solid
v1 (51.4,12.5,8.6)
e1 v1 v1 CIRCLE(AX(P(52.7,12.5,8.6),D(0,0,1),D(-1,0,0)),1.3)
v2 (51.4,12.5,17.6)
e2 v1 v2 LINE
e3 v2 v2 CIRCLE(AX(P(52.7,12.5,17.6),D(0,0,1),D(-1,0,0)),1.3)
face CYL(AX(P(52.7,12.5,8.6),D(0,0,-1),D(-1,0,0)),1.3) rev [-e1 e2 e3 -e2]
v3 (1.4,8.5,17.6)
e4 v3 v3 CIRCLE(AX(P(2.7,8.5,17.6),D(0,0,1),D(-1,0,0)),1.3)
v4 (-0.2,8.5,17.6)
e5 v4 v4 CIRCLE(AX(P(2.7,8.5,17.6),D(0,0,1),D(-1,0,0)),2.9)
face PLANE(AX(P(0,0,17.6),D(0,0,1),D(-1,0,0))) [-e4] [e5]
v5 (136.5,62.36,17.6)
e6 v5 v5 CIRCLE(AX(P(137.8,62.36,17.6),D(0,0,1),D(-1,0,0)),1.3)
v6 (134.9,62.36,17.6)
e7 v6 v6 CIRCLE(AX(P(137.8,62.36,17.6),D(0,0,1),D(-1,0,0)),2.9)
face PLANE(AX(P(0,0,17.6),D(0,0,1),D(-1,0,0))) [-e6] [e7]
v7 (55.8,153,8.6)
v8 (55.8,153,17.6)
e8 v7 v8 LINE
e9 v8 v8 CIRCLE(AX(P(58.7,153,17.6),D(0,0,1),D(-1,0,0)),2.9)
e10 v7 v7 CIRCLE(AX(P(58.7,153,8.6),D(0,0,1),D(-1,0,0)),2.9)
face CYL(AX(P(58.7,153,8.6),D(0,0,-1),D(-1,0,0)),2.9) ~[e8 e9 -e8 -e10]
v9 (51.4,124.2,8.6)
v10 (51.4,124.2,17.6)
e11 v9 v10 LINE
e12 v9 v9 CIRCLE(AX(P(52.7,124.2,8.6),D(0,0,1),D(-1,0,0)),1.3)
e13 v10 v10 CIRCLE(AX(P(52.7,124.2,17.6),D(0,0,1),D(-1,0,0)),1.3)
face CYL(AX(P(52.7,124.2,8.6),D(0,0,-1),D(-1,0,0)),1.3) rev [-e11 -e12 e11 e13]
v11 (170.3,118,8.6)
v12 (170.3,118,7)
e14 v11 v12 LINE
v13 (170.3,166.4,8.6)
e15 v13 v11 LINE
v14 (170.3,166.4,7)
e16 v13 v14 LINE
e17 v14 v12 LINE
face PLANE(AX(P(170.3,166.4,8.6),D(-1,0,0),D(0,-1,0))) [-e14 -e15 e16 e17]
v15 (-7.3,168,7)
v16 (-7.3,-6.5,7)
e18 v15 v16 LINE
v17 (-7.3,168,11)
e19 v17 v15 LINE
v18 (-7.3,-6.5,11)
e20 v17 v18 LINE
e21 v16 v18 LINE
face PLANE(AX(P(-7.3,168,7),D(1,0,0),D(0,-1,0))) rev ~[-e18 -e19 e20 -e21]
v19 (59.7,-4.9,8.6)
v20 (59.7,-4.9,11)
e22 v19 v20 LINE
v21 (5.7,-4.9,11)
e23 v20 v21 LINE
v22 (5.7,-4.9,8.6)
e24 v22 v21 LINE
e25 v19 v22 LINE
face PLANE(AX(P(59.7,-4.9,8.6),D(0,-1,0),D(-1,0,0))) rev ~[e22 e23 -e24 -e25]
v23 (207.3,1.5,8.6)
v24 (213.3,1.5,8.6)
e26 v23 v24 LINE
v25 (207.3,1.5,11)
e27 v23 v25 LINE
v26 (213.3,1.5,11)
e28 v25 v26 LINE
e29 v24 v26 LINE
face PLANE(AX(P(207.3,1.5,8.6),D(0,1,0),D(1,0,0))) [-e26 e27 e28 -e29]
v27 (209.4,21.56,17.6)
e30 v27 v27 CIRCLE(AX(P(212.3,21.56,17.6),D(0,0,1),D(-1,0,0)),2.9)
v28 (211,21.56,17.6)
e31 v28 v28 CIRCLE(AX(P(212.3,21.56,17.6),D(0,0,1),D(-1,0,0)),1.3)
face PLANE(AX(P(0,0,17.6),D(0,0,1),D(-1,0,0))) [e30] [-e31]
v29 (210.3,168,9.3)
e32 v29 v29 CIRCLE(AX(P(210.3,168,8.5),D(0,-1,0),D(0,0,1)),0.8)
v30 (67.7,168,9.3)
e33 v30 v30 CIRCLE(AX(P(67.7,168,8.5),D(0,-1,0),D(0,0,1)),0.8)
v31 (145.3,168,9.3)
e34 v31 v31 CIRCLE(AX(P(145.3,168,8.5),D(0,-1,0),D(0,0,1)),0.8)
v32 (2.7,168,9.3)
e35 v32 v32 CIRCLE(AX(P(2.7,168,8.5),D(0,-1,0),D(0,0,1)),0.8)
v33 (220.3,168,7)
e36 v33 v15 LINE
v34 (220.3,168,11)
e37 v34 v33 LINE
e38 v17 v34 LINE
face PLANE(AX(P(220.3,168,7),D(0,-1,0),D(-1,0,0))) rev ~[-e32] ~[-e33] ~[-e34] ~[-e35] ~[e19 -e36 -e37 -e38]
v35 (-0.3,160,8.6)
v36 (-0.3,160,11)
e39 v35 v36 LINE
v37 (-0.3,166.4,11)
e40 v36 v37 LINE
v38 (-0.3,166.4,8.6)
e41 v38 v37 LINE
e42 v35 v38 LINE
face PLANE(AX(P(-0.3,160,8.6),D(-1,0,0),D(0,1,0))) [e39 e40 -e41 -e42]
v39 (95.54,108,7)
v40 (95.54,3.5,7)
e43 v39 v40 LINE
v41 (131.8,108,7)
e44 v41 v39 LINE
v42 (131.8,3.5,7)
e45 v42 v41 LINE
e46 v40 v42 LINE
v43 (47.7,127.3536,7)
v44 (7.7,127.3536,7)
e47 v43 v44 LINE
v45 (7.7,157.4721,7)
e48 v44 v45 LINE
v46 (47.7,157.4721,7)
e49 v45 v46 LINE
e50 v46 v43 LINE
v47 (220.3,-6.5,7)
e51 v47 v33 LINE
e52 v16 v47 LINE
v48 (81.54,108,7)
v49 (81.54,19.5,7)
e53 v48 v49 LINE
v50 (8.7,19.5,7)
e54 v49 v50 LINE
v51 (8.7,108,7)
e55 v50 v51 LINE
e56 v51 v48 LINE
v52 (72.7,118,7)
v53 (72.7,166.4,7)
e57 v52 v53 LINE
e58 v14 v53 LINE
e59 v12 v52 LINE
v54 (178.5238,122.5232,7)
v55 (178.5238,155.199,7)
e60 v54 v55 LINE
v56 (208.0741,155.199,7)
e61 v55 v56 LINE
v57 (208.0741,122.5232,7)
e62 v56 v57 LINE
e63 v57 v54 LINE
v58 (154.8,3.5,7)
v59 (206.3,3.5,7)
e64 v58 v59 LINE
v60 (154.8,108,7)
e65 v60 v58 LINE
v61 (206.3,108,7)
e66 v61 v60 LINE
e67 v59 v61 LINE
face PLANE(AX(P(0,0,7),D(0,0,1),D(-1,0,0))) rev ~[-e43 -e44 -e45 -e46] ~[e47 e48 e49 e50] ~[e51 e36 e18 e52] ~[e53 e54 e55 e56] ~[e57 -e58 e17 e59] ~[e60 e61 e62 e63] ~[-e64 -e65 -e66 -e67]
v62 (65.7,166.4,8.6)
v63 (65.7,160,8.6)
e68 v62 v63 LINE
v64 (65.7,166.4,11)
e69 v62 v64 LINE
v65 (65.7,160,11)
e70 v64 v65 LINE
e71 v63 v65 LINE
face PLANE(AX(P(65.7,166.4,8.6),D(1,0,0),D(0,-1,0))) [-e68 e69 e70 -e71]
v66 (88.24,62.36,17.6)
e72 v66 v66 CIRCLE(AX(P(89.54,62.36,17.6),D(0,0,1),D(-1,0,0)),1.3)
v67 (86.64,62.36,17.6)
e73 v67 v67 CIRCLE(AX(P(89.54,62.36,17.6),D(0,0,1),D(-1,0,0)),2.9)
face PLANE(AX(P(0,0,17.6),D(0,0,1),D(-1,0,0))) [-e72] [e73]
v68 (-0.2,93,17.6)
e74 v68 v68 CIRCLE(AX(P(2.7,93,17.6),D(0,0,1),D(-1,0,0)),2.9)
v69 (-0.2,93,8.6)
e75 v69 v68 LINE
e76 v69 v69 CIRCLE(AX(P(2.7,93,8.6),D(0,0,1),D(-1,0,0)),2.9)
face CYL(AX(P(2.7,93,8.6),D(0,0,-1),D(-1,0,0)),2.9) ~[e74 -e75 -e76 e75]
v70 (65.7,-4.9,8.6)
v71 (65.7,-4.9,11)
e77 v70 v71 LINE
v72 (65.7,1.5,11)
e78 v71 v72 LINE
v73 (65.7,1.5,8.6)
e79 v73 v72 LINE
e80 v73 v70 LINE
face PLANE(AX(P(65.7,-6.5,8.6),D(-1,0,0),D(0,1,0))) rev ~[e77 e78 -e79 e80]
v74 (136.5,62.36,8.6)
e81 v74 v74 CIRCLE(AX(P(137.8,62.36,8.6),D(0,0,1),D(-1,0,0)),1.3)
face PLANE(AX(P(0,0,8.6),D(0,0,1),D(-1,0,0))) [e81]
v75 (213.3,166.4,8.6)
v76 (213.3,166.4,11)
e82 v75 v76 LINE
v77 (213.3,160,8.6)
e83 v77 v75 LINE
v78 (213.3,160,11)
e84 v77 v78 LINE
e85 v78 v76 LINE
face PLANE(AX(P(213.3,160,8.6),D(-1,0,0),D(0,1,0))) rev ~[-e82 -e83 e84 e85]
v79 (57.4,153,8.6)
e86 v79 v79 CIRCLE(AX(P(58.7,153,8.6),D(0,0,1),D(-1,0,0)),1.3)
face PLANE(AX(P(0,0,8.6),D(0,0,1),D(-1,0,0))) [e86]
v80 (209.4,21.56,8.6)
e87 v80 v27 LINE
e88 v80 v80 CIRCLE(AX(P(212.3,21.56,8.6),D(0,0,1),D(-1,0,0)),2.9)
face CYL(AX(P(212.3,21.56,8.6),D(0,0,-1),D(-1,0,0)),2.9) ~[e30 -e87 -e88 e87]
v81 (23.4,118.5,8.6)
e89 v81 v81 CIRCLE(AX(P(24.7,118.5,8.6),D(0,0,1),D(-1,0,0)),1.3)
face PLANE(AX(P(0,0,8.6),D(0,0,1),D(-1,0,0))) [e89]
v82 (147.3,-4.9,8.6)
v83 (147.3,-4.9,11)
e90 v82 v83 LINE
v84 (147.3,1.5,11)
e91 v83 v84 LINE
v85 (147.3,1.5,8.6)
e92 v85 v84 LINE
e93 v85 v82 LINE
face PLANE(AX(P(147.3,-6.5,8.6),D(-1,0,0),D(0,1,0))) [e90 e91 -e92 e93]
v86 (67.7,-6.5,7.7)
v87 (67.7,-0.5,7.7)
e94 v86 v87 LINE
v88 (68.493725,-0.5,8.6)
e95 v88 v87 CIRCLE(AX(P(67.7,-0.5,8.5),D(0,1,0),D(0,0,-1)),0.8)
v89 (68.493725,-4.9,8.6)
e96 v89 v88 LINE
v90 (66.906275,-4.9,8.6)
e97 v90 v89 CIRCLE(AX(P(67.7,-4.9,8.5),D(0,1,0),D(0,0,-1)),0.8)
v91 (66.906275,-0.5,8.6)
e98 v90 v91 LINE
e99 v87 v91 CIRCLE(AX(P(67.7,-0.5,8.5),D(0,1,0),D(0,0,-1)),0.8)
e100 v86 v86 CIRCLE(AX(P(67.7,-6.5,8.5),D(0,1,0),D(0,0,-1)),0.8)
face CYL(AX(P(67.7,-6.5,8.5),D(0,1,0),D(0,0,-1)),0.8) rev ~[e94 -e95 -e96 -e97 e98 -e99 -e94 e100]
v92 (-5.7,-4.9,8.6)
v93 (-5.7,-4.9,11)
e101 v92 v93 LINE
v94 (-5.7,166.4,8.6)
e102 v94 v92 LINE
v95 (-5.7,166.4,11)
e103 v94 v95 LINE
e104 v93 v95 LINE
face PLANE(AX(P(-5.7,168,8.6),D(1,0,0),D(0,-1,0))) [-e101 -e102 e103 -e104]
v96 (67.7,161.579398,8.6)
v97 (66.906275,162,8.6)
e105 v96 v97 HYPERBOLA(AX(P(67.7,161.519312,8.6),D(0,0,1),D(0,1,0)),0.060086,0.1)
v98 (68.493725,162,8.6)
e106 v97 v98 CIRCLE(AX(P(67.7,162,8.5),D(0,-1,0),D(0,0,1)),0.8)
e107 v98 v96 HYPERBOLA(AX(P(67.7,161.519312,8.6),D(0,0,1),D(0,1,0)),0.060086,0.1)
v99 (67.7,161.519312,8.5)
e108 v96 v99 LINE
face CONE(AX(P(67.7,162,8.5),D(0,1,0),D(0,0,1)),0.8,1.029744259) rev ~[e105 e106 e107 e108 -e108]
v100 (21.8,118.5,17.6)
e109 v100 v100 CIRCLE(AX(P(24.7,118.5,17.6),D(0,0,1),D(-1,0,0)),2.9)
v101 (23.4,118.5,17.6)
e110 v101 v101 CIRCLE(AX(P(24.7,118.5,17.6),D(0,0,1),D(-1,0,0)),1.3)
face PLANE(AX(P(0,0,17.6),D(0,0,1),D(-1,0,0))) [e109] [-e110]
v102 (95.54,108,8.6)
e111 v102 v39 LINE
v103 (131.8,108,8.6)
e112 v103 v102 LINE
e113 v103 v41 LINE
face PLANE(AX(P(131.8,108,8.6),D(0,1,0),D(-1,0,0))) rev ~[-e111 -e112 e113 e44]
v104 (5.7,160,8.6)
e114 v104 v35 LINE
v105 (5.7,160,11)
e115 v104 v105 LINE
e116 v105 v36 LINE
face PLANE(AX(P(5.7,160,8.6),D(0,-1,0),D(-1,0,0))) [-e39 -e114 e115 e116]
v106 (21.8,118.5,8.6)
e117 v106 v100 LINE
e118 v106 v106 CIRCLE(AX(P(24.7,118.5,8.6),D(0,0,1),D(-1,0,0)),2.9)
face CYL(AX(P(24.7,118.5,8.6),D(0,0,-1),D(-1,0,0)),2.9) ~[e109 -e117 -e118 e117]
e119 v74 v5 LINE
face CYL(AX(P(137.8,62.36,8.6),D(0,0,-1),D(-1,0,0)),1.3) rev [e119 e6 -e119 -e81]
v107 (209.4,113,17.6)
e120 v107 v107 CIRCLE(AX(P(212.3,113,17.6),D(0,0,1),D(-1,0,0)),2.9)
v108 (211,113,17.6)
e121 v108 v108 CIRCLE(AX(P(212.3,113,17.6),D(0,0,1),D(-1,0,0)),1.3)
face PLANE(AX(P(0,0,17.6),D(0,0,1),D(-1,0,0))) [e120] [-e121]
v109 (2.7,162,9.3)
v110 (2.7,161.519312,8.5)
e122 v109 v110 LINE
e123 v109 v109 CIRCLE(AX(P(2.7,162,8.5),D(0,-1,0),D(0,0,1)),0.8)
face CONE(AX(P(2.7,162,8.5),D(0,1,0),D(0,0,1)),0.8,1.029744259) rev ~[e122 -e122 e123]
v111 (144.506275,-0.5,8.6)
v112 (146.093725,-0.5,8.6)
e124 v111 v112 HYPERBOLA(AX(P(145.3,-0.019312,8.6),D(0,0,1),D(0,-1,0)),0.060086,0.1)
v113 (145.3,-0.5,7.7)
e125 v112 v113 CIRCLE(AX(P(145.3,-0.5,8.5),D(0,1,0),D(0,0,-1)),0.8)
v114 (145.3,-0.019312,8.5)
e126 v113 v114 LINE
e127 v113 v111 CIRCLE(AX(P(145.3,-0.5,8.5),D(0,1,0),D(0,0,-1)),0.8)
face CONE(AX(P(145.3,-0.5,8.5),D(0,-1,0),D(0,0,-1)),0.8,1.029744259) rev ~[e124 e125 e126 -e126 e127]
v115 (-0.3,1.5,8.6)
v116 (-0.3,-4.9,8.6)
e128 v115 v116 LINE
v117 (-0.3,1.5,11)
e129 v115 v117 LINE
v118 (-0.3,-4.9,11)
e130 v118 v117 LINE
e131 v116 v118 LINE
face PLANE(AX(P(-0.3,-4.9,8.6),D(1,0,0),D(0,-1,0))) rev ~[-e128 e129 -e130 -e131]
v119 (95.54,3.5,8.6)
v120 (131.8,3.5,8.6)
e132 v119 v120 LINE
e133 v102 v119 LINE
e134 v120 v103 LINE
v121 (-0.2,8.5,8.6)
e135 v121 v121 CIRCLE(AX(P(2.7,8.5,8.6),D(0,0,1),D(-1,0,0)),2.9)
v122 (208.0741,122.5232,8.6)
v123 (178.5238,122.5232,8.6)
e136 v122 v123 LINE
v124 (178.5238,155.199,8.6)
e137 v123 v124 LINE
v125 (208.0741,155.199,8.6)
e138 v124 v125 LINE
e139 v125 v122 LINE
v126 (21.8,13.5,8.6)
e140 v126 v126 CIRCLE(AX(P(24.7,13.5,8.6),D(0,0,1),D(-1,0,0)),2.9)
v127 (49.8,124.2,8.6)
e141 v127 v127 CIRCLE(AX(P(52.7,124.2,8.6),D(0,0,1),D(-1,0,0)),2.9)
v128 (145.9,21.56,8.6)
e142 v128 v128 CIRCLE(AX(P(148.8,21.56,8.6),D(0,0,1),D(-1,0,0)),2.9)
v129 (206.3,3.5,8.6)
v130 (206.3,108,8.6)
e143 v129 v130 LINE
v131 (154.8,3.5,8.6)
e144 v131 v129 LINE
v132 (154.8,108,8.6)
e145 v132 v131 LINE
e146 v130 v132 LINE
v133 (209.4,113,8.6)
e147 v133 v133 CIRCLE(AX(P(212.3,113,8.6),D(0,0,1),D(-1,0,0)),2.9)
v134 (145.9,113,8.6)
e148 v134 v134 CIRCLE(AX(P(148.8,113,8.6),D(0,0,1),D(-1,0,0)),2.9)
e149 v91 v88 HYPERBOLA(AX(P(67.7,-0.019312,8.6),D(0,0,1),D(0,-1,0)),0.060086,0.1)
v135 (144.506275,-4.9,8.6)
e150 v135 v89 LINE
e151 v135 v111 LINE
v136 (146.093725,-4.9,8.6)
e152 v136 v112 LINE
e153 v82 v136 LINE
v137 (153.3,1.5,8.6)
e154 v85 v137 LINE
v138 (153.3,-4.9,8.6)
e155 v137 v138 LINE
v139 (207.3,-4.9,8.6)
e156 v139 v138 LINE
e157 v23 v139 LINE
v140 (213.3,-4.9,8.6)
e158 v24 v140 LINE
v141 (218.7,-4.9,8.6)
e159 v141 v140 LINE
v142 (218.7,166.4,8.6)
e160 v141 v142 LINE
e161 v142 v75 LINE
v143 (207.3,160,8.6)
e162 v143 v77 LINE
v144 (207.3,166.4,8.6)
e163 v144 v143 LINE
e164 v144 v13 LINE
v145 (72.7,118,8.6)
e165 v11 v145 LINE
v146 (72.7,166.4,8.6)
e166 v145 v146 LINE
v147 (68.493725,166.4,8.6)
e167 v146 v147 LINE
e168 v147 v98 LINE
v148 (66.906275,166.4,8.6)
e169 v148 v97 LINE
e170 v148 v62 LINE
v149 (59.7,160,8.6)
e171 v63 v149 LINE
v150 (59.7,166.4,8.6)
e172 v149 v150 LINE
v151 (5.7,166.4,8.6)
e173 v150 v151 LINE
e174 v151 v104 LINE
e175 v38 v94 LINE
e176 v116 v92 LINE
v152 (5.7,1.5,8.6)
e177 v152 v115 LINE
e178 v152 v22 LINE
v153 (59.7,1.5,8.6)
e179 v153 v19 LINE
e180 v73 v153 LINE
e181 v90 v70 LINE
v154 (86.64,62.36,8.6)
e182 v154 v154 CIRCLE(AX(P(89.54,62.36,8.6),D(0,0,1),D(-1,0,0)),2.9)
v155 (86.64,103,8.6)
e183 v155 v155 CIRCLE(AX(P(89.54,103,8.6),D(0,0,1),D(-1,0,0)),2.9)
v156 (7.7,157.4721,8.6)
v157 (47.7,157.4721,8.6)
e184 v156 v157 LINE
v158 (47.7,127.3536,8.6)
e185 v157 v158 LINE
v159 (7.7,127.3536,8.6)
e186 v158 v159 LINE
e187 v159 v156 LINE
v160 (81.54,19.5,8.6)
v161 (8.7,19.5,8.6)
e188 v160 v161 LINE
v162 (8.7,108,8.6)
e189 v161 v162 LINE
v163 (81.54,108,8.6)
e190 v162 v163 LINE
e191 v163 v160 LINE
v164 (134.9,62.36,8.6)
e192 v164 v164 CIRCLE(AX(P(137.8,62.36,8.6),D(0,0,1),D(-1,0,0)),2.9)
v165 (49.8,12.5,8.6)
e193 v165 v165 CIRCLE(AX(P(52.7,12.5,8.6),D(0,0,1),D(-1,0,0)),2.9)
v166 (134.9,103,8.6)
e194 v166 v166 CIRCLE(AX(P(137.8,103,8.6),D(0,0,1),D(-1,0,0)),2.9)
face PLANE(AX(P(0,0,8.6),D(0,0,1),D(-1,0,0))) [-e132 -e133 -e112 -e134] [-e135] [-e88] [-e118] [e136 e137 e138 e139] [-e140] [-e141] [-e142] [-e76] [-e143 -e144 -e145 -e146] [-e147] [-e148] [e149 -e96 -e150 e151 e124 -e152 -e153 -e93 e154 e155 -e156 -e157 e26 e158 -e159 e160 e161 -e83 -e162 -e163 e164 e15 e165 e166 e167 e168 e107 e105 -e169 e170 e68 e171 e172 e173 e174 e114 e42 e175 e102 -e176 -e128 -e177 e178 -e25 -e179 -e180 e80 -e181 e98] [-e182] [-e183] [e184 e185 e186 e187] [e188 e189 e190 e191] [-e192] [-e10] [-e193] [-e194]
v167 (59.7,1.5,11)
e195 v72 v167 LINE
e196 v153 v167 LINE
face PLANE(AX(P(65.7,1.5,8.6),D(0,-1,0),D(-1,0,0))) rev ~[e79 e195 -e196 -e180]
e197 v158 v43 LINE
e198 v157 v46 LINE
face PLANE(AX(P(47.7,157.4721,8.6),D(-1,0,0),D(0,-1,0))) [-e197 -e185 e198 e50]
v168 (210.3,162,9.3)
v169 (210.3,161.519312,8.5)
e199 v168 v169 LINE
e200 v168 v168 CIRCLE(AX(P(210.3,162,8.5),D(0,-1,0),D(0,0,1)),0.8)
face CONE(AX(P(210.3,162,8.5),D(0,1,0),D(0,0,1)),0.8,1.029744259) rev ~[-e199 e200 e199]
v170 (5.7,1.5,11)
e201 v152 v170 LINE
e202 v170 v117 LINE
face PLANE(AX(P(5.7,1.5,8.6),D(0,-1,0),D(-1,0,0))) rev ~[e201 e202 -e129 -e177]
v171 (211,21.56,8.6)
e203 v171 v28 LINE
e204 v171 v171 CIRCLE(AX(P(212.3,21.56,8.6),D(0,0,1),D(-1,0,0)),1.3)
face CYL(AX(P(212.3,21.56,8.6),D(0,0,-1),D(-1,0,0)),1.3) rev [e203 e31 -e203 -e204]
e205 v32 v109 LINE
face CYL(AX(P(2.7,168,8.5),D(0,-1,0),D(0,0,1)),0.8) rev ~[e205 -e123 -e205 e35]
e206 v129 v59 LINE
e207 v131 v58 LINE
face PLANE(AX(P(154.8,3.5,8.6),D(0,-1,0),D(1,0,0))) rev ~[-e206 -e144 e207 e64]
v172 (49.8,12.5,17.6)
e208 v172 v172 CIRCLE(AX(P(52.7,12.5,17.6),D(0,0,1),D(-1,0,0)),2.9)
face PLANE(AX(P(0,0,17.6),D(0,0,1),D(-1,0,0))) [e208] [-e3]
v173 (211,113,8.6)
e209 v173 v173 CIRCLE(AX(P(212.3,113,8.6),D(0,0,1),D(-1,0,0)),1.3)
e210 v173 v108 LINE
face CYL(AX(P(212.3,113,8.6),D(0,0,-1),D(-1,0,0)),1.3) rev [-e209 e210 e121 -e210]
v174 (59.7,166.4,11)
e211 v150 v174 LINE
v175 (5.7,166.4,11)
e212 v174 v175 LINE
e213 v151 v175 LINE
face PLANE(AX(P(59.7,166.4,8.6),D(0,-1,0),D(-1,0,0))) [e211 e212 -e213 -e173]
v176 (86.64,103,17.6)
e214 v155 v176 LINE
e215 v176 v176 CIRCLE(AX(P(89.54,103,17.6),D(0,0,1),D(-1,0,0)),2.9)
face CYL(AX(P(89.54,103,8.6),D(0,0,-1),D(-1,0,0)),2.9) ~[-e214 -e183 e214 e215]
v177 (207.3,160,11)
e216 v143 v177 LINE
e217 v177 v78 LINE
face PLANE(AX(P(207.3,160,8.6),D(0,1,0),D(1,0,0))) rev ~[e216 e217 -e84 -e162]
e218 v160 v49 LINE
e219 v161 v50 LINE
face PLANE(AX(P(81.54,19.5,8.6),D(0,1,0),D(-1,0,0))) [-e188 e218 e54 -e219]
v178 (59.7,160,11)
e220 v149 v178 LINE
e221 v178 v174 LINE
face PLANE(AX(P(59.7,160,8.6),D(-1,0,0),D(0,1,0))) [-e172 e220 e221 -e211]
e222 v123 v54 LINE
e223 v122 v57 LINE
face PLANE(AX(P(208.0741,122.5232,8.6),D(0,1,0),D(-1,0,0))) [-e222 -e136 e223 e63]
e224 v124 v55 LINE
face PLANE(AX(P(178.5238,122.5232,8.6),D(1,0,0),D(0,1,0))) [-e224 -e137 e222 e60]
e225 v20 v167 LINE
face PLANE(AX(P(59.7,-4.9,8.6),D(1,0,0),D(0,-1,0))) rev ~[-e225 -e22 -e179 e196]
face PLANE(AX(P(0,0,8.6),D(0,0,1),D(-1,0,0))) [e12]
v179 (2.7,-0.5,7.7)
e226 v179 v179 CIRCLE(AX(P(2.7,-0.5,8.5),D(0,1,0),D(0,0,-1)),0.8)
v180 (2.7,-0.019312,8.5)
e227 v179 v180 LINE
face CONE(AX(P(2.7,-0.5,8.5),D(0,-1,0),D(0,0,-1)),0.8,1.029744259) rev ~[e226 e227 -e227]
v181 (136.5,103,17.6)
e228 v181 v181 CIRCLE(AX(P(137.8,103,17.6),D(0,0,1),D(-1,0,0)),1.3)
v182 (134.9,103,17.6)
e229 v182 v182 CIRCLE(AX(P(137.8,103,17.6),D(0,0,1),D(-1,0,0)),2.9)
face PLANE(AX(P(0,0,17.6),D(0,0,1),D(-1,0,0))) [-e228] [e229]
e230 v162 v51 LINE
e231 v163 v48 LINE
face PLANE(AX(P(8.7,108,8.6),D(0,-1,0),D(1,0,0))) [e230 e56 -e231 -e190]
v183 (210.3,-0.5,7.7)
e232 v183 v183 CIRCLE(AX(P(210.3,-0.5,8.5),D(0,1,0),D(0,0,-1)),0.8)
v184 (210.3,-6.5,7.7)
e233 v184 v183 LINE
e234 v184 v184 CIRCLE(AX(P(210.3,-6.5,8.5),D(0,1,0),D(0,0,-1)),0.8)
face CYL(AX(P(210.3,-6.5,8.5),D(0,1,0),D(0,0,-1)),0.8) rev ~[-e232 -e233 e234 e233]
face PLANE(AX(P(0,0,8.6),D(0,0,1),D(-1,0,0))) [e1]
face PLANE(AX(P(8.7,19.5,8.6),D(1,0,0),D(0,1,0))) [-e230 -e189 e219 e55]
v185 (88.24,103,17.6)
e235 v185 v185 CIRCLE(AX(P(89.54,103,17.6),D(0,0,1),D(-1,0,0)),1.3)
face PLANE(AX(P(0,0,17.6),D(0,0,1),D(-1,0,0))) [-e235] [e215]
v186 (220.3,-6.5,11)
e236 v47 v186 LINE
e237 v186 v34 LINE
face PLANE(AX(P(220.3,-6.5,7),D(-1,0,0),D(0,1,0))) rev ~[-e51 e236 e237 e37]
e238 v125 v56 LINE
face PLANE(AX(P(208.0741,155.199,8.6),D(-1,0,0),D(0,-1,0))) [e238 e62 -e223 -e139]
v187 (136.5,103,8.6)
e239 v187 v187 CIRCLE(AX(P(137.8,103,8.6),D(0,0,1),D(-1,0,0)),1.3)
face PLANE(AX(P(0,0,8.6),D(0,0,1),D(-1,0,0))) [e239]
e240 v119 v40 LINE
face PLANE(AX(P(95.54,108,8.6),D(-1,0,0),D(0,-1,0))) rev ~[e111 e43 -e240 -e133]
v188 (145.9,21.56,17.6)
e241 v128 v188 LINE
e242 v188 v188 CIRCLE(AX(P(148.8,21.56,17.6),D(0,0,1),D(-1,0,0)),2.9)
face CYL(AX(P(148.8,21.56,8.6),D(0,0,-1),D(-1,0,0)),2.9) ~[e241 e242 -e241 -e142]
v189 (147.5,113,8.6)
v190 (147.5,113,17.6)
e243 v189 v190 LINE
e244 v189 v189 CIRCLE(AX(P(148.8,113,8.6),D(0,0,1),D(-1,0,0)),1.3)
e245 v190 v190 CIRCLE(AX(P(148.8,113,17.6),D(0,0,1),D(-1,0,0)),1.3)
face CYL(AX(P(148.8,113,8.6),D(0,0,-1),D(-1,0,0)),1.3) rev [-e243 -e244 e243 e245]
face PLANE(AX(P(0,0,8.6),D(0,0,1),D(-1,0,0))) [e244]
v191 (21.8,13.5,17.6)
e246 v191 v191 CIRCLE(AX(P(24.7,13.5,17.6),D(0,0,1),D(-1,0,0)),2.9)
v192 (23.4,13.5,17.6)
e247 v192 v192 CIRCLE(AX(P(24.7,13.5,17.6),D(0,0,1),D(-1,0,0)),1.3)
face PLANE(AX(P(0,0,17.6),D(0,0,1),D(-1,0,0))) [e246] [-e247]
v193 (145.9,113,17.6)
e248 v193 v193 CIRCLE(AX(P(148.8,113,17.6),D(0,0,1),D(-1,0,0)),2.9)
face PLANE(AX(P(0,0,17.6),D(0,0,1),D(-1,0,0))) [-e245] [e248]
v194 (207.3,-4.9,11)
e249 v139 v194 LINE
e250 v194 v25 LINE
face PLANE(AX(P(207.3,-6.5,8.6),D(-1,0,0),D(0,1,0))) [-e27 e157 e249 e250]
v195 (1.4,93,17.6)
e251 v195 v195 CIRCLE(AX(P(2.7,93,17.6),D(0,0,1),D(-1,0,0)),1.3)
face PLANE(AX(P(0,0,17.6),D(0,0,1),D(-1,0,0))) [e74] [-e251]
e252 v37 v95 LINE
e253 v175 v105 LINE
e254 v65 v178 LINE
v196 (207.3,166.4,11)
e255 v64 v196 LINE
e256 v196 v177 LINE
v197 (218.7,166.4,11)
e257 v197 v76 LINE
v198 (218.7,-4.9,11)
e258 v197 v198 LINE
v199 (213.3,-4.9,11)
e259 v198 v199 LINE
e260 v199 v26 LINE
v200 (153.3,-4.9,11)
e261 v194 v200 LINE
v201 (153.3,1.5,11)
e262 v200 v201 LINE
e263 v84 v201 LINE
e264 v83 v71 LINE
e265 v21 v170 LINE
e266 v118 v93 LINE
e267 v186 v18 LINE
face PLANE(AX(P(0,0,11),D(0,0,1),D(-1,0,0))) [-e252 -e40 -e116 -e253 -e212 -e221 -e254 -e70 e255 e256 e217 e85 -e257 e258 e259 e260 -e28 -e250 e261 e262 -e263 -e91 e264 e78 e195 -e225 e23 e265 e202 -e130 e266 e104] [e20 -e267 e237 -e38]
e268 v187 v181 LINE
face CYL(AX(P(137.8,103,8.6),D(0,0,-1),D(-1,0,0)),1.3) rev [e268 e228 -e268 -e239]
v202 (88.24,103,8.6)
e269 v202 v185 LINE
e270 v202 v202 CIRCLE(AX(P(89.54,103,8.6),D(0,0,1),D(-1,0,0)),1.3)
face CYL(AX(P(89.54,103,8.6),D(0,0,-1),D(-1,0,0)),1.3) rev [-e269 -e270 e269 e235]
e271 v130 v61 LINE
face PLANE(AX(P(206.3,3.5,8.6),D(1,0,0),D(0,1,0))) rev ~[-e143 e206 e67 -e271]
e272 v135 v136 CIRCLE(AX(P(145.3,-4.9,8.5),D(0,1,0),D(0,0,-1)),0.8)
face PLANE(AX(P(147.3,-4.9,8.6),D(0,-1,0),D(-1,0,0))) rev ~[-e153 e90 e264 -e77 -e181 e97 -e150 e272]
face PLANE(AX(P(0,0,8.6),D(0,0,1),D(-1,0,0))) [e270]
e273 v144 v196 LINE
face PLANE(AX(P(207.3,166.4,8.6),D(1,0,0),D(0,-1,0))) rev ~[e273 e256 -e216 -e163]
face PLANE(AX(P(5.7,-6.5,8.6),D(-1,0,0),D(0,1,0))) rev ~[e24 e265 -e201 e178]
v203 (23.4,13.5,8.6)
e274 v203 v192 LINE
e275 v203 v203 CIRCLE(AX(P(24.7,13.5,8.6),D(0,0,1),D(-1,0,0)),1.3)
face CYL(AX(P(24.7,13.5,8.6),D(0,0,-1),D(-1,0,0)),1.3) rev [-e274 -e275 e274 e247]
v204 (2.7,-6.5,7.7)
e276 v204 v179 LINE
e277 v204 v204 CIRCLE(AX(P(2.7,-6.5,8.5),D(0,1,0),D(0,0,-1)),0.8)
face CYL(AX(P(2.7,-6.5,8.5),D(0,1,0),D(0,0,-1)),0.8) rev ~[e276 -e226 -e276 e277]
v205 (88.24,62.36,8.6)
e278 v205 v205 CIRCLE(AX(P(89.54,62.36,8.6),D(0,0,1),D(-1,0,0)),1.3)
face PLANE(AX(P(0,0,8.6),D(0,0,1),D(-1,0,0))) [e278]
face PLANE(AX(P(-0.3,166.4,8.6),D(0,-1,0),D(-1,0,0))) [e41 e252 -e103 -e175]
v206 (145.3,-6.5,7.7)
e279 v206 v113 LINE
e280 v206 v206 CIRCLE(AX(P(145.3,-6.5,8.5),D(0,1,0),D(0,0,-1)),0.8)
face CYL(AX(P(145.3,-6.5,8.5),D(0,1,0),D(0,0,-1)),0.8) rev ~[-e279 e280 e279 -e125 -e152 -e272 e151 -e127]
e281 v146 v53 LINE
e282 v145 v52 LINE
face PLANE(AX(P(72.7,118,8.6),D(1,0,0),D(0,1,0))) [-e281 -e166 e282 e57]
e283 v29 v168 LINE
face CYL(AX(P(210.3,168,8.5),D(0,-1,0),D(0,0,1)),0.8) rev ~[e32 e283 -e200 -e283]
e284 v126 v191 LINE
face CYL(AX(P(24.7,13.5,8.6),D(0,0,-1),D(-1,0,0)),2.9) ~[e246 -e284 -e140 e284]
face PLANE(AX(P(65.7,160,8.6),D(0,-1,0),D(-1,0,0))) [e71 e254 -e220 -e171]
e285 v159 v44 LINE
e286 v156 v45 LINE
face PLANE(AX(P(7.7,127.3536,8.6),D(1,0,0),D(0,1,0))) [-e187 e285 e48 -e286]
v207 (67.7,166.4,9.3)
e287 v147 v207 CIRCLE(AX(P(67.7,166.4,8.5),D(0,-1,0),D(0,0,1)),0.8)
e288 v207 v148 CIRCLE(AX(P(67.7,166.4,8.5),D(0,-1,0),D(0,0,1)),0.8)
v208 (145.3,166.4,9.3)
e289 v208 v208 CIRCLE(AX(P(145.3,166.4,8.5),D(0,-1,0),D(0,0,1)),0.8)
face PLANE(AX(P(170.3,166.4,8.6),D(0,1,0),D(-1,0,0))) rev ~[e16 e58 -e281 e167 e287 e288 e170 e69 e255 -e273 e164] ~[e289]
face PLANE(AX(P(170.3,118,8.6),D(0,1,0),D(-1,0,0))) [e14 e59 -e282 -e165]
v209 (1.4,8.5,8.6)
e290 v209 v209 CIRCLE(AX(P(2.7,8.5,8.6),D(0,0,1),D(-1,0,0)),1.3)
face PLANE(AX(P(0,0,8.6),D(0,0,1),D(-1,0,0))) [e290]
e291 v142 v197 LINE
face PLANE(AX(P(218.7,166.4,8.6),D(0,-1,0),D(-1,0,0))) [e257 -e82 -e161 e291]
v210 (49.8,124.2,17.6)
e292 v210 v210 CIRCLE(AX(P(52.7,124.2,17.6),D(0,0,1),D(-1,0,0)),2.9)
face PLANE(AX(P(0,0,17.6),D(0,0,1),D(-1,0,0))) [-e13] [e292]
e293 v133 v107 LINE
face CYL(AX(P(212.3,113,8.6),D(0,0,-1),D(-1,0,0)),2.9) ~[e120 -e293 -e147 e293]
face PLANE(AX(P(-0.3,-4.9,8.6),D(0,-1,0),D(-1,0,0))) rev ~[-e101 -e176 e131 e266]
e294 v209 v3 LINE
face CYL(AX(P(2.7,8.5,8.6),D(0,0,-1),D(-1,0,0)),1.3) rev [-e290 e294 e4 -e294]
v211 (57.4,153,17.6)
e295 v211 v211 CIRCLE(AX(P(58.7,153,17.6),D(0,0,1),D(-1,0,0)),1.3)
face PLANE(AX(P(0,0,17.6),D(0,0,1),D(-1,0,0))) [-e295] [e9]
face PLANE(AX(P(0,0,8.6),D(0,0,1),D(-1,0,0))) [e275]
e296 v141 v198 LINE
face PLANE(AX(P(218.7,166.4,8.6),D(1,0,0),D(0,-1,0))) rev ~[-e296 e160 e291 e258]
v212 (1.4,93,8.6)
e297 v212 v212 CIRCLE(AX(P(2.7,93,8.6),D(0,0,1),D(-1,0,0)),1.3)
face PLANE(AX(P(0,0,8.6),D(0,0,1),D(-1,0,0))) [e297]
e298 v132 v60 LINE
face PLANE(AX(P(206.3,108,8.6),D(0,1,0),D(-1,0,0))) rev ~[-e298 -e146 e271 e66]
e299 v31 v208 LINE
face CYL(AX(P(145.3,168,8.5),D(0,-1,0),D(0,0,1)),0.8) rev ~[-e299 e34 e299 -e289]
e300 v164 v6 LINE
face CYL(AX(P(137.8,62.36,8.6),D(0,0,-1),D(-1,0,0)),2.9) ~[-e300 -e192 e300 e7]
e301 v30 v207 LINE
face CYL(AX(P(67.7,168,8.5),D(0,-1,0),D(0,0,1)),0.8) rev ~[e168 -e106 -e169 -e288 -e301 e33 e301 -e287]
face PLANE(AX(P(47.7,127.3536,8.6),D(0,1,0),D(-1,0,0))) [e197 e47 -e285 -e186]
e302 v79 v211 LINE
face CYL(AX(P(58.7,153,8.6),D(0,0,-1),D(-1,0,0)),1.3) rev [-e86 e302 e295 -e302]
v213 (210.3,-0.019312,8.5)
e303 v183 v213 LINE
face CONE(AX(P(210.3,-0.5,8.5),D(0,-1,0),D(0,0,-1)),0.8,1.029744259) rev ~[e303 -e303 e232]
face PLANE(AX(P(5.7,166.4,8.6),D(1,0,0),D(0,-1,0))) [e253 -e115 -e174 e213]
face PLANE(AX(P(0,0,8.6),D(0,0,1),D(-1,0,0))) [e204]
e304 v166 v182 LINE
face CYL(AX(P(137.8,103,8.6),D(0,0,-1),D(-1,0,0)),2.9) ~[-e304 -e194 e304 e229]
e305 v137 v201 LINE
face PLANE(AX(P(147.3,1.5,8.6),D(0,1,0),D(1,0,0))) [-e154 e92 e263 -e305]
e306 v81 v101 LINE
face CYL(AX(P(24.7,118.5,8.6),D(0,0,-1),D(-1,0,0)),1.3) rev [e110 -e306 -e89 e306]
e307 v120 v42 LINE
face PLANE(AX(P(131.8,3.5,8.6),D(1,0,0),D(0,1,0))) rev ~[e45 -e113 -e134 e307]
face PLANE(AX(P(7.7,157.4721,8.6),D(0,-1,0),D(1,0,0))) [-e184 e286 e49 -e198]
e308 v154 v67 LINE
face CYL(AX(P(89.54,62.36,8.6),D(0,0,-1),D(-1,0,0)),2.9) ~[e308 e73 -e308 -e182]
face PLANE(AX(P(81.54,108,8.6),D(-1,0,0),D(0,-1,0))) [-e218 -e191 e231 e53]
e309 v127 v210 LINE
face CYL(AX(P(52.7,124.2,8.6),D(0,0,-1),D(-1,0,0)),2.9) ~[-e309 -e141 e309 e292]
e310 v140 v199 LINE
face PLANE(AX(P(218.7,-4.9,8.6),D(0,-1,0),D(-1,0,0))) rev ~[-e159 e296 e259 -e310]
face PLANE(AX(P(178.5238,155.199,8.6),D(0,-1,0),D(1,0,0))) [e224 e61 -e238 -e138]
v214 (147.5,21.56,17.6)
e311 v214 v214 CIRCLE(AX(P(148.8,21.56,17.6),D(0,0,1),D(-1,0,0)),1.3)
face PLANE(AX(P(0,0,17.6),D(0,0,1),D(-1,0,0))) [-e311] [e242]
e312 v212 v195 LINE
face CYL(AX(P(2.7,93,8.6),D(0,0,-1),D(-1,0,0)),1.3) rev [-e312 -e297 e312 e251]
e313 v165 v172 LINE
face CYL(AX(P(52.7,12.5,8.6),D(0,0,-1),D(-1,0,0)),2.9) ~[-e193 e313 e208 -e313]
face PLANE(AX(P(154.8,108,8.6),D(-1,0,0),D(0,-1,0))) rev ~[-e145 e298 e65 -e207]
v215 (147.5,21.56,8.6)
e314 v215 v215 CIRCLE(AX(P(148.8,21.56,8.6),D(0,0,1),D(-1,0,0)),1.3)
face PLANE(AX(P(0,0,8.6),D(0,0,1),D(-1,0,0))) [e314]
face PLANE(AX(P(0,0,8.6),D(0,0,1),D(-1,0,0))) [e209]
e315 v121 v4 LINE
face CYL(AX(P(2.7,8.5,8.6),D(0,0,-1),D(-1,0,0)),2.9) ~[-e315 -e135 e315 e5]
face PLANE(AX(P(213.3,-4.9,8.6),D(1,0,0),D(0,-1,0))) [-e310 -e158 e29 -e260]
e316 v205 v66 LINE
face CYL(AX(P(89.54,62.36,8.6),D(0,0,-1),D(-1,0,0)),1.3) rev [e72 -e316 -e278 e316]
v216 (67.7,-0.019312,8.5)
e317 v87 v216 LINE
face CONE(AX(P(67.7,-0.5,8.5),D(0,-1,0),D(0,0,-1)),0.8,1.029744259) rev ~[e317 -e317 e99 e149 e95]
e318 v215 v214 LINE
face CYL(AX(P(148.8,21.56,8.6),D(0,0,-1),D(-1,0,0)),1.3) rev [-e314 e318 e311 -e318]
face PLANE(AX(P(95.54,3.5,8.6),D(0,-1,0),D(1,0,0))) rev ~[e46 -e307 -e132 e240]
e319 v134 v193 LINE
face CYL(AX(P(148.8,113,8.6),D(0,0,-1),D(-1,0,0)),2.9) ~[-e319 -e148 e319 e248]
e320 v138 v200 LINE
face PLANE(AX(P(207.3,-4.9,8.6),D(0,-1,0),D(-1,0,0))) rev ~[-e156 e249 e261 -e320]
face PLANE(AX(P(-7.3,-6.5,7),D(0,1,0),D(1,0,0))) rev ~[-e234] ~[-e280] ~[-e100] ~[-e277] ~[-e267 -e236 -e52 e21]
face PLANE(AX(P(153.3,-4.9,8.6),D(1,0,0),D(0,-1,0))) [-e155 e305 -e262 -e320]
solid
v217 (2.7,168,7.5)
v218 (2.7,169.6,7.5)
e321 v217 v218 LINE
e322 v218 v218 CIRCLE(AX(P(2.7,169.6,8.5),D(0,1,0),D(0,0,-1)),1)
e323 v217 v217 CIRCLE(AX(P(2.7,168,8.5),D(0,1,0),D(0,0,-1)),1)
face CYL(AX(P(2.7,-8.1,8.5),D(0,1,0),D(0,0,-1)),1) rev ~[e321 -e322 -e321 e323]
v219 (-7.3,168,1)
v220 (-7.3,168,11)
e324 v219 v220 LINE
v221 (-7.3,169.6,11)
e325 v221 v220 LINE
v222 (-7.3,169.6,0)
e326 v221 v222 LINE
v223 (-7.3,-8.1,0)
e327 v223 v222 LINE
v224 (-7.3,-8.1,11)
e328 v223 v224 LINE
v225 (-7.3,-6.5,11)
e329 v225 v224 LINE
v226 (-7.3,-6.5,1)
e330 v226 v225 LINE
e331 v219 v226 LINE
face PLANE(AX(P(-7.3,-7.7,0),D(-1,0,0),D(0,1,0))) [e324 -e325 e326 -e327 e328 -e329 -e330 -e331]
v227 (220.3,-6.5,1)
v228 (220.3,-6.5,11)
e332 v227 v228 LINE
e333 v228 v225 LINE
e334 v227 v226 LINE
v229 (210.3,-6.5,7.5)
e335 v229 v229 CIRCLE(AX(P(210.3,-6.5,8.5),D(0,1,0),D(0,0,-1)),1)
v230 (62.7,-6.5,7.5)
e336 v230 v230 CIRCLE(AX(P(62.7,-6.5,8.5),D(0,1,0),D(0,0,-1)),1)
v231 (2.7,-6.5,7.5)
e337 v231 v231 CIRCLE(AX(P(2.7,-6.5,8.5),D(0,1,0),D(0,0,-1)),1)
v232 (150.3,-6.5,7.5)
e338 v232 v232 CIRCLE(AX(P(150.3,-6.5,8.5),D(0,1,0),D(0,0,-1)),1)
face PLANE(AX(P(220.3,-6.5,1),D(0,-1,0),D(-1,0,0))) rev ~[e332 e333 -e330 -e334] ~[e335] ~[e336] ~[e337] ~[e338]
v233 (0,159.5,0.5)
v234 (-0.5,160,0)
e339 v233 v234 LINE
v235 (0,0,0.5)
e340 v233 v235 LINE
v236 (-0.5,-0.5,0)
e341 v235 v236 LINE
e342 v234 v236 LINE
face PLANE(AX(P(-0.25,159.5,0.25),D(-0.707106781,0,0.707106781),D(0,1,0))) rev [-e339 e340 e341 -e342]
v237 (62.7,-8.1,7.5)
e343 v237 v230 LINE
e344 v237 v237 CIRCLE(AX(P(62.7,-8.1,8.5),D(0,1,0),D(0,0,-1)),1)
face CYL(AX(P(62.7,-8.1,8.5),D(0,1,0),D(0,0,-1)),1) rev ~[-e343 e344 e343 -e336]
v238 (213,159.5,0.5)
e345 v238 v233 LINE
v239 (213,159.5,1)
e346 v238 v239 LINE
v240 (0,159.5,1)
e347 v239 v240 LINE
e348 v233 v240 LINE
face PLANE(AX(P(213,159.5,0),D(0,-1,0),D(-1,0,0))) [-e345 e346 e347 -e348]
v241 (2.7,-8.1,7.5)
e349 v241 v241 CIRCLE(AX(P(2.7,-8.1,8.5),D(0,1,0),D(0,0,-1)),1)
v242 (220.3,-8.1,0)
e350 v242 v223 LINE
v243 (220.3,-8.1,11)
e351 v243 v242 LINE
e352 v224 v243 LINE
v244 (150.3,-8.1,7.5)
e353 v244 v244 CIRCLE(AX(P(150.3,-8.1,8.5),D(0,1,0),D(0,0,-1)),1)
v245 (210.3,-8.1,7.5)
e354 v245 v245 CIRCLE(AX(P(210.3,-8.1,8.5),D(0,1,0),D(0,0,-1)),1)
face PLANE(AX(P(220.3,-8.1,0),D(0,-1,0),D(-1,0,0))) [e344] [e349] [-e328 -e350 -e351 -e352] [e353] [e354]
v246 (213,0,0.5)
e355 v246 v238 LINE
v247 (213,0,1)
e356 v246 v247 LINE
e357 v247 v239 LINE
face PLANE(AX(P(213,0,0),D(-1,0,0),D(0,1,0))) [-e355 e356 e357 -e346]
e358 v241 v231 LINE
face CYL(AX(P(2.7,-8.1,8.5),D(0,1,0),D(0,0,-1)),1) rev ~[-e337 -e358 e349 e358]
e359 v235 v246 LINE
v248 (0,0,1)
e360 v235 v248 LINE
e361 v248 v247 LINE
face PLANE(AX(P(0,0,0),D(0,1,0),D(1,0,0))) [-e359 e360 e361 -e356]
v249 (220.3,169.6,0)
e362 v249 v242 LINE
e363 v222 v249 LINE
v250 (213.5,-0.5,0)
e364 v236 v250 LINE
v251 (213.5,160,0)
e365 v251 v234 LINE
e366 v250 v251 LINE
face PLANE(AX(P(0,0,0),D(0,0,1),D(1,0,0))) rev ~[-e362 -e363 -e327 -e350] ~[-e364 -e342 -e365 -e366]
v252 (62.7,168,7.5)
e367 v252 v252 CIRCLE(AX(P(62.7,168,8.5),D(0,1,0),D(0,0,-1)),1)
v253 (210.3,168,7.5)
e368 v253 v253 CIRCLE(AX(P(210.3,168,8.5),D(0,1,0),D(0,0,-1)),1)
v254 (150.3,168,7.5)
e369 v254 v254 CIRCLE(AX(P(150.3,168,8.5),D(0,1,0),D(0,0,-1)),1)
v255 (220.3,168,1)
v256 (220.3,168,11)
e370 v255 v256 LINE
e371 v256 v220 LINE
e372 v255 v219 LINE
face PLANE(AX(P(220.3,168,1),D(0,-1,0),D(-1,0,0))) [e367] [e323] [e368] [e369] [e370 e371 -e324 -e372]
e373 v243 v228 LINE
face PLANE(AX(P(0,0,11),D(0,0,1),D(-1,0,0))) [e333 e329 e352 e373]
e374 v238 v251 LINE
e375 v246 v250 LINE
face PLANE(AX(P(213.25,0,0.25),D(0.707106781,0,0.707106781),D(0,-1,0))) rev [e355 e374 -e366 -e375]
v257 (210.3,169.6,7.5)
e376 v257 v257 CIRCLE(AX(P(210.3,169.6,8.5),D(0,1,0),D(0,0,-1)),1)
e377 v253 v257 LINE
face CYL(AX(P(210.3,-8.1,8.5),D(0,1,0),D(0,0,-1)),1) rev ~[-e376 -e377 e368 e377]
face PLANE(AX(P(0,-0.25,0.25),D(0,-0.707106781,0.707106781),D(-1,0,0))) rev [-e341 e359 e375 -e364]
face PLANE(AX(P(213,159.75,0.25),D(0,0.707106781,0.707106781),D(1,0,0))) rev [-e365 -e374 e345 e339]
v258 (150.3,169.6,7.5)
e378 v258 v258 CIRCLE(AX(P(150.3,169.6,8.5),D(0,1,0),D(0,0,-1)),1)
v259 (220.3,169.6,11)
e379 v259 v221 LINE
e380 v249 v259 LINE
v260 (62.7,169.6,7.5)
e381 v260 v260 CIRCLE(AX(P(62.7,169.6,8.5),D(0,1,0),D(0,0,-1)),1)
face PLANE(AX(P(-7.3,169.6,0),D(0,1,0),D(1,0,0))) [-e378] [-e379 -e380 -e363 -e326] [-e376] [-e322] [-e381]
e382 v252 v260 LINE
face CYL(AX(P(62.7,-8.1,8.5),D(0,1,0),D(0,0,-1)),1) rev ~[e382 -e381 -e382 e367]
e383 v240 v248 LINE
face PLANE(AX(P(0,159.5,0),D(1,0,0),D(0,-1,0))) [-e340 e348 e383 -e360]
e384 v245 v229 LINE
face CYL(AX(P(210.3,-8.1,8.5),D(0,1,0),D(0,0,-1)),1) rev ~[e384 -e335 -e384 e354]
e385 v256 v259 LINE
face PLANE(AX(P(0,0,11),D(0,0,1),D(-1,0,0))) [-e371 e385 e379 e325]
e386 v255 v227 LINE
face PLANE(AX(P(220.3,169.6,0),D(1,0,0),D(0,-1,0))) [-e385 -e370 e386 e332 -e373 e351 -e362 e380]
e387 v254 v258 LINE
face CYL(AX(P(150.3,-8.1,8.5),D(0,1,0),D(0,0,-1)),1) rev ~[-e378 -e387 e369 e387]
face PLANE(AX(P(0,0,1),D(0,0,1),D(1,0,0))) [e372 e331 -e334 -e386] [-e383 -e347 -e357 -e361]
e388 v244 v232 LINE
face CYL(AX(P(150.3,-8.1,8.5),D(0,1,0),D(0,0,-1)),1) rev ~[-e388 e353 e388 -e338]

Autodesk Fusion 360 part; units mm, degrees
sketch "Skizze1" plane through (0, 0, 0) normal (0, 0, 1) x (1, 0, 0)
  line L0 (0, 0) -> (213, 0)
  line L1 (213, 0) -> (213, 159.5)
  line L2 (213, 159.5) -> (0, 159.5)
  line L3 (0, 159.5) -> (0, 0)
  line L4 (-7.3, -7.7) -> (-7.3, 169.6)
  line L5 (-7.3, 169.6) -> (220.3, 169.6)
  line L6 (220.3, 169.6) -> (220.3, -8.1)
  line L7 (220.3, -8.1) -> (-7.3, -8.1)
  line L8 (-7.3, -8.1) -> (-7.3, -7.7)
  dimension "d1" = 213
  dimension "d2" = 159.5
  dimension "d3" = 7.3
  dimension "d4" = 7.3
  dimension "d5" = 8.1
  dimension "d6" = 10.1
  dimension "d20" = 227.6
  dimension "d21" = 177.7
extrude "Extrusion1" add sketch "Skizze1" along normal blind 1 makes body 1
chamfer "Fase1" distance 0.5 angle 45 4 edges at (106.5, 0, 0) (0, 79.75, 0) (213, 79.75, 0) (106.5, 159.5, 0) on bodies 1
sketch "Skizze2" plane through (0, 0, 1) normal (0, 0, 1) x (-1, 0, 0)
  line L0 (0, 0) -> (0, -159.5)
  line L1 (0, -159.5) -> (-213, -159.5)
  line L2 (-213, -159.5) -> (-213, 0)
  line L3 (-213, 0) -> (0, 0)
  line L4 (7.3, 8.1) -> (-220.3, 8.1)
  line L5 (-220.3, 8.1) -> (-220.3, -169.6)
  line L6 (-220.3, -169.6) -> (7.3, -169.6)
  line L7 (7.3, -169.6) -> (7.3, 8.1)
  line L8 (7.3, -169.6) -> (-220.3, -169.6)
  line L9 (-220.3, -169.6) -> (-220.3, -168)
  line L10 (-220.3, -168) -> (7.3, -168)
  line L11 (7.3, -168) -> (7.3, -169.6)
  line L12 (7.3, 8.1) -> (-220.3, 8.1)
  line L13 (-220.3, 8.1) -> (-220.3, 6.5)
  line L14 (-220.3, 6.5) -> (7.3, 6.5)
  line L15 (7.3, 6.5) -> (7.3, 8.1)
  line L16 (-213, 0) -> (-213, -159.5)
  dimension "d11" = 174.5
  dimension "d12" = 6.5
  dimension "d13" = 8.5
  dimension "d16" = 1.6
  dimension "d18" = 159.5
  dimension "d19" = 1.6
extrude "Extrusion2" add sketch "Skizze2" along normal blind 10 contours L4 L5 L7 L12 L13 L14 L15 | L5 L6 L7 L8 L9 L10 L11 bodies 1
sketch "Skizze1 (2)" plane through (0, 0, 1) normal (0, 0, 1) x (-1, 0, 0) in component "Display"
  line L0 (7.3, 6.5) -> (-220.3, 6.5)
  line L1 (-220.3, 6.5) -> (-220.3, -168)
  line L2 (-220.3, -168) -> (7.3, -168)
  line L3 (7.3, -168) -> (7.3, 6.5)
  line L4 (0, 0) -> (0, -159.5)
  line L5 (0, -159.5) -> (-213, -159.5)
  line L6 (-213, -159.5) -> (-213, 0)
  line L7 (-213, 0) -> (0, 0)
  line L8 (7.3, -168) -> (-220.3, -168)
  line L9 (-220.3, -168) -> (-220.3, 6.5)
  line L10 (-220.3, 6.5) -> (7.3, 6.5)
  line L11 (7.3, 6.5) -> (7.3, -168)
extrude "Extrusion1'" add sketch "Skizze1 (2)" along normal blind 6 separate body contours L0 L1 L2 L3 L8 L9 L10 L11 | L4 L5 L6 L7 makes body 2 in component "Display"
extrude "Extrusion1''" add 1 faces at (144.4333, 51.6667, 7) along direction (0, 0, 1) blind 1.6 separate body on bodies 2 makes body 3 in component "Platinenhalter"
sketch "Skizze2 (2)" plane through (0, 0, 8.6) normal (0, 0, 1) x (-1, 0, 0) in component "Platinenhalter"
  line L0 (7.3, 6.5) -> (-220.3, 6.5)
  line L1 (-220.3, 6.5) -> (-220.3, -168)
  line L2 (-220.3, -168) -> (7.3, -168)
  line L3 (7.3, -168) -> (7.3, 6.5)
  line L4 (0.3, -168) -> (-5.7, -168)
  line L5 (-5.7, -168) -> (-5.7, -160)
  line L6 (-5.7, -160) -> (0.3, -160)
  line L7 (0.3, -160) -> (0.3, -168)
  line L8 (-106.5, -168) -> (-106.5, 6.5) construction
  line L9 (7.3, -80.75) -> (-220.3, -80.75) construction
  line L10 (-211.3, -169.6) -> (-209.3, -169.6)
  line L11 (-207.3, -168) -> (-207.3, -160)
  line L12 (-213.3, -160) -> (-213.3, -168)
  line L13 (-207.3, -160) -> (-213.3, -160)
  line L14 (-213.3, -168) -> (-207.3, -168)
  line L15 (-213.3, 6.5) -> (-207.3, 6.5)
  line L16 (-1.7, 8.1) -> (-3.7, 8.1)
  line L17 (-207.3, 6.5) -> (-207.3, -1.5)
  line L18 (-59.7, -1.5) -> (-59.7, 6.5)
  line L19 (-213.3, -1.5) -> (-213.3, 6.5)
  line L20 (-153.3, -1.5) -> (-153.3, 6.5)
  line L21 (-147.3, 6.5) -> (-147.3, -1.5)
  line L22 (-147.3, -1.5) -> (-153.3, -1.5)
  line L23 (0.3, 6.5) -> (-5.7, 6.5)
  line L24 (-59.7, 6.5) -> (-65.7, 6.5)
  line L25 (-5.7, 6.5) -> (-5.7, -1.5)
  line L26 (-211.3, 8.1) -> (-209.3, 8.1)
  line L27 (-65.7, 6.5) -> (-65.7, -1.5)
  line L28 (-153.3, 6.5) -> (-147.3, 6.5)
  line L29 (0.3, -1.5) -> (0.3, 6.5)
  line L30 (-5.7, -1.5) -> (0.3, -1.5)
  line L31 (-207.3, -1.5) -> (-213.3, -1.5)
  line L32 (-65.7, -1.5) -> (-59.7, -1.5)
  line L33 (-220.3, -168) -> (-218.7, -168)
  line L34 (-218.7, -168) -> (-218.7, 6.5)
  line L35 (-218.7, 6.5) -> (-220.3, 6.5)
  line L36 (-220.3, 6.5) -> (-220.3, -168)
  line L37 (7.3, -168) -> (5.7, -168)
  line L38 (5.7, -168) -> (5.7, 6.5)
  line L39 (5.7, 6.5) -> (7.3, 6.5)
  line L40 (7.3, 6.5) -> (7.3, -168)
  line L41 (5.7, -168) -> (-218.7, -168)
  line L42 (-218.7, -168) -> (-218.7, -166.4)
  line L43 (-218.7, -166.4) -> (5.7, -166.4)
  line L44 (5.7, -166.4) -> (5.7, -168)
  line L45 (5.7, 6.5) -> (-218.7, 6.5)
  line L46 (-218.7, 6.5) -> (-218.7, 4.9)
  line L47 (-218.7, 4.9) -> (5.7, 4.9)
  line L48 (5.7, 4.9) -> (5.7, 6.5)
  line L49 (-72.7, -168) -> (-170.3, -168)
  line L50 (-170.3, -168) -> (-170.3, -118)
  line L51 (-170.3, -118) -> (-72.7, -118)
  line L52 (-72.7, -118) -> (-72.7, -168)
  line L53 (-65.7, -168) -> (-65.7, -160)
  line L54 (-65.7, -160) -> (-59.7, -160)
  line L55 (-59.7, -160) -> (-59.7, -168)
  line L56 (-59.7, -168) -> (-65.7, -168)
  point P0 (-220.3, -168)
  point P1 (7.3, 6.5)
  point P2 (-106.5, 6.5)
  dimension "d47" = 6
  dimension "d48" = 8
  dimension "d50" = 7
  dimension "d83" = 1.6
  dimension "d84" = 1.6
  dimension "d87" = 1.6
  dimension "d88" = 1.6
  dimension "d94" = 50
  dimension "d95" = 80
  dimension "d96" = 50
  dimension "d178" = 67
  dimension "d179" = 6
  dimension "d180" = 67
sketch "Skizze4" plane through (0, 0, 7) normal (0, 0, -1) x (1, 0, 0) in component "Platinenhalter"
  line L0 (220.3, 6.5) -> (-7.3, 6.5)
  line L1 (-7.3, 6.5) -> (-7.3, -168)
  line L2 (220.3, -168) -> (220.3, 6.5)
extrude "Extrusion5" cut sketch "Skizze2 (2)" against normal blind 1.6 contours L43 L50 L51 L52 bodies 3 in component "Platinenhalter"
extrude "Extrusion2'" add sketch "Skizze2 (2)" along normal blind 2.4 contours L0 L23 L25 L29 L45 L47 | L2 L7 L38 L41 L43 L44 | L25 L29 L30 L47 | L2 L4 L5 L7 L41 L43 | L0 L18 L24 L27 L45 L47 | L5 L6 L7 L43 | L2 L5 L41 L43 L55 | L18 L27 L32 L47 | L2 L41 L43 L53 L55 L56 | L0 L20 L21 L28 L45 L47 | L43 L53 L54 L55 | L2 L41 L43 L52 L53 | L20 L21 L22 L47 | L2 L41 L43 L49 L50 L52 | L0 L15 L17 L19 L45 L47 | L2 L11 L41 L43 L50 | L17 L19 L31 L47 | L2 L11 L12 L14 L41 L43 | L11 L12 L13 L43 | L2 L12 L34 L41 L42 L43 bodies 3 in component "Platinenhalter"
hole "Bohrung1" at (2.7, -8.1, 8.5) direction (0, 1, 0) diameter 2 end through all bodies 1 1
hole "Bohrung2" at (210.3, -8.1, 8.5) direction (0, 1, 0) diameter 2 end through all bodies 1 1
hole "Bohrung3" at (62.7, -8.1, 8.5) direction (0, 1, 0) diameter 2 depth 177.7 tip angle 118 bodies 1
hole "Bohrung4" at (150.3, -8.1, 8.5) direction (0, 1, 0) diameter 2 depth 177.7 tip angle 118 bodies 1
extrude "Extrusion3" add sketch "Skizze2 (2)" along normal blind 2.4 contours L0 L2 L3 L37 L38 L39 L40 L44 L48 | L0 L29 L38 L45 L47 L48 | L0 L18 L25 L45 L47 | L0 L21 L27 L45 L47 | L0 L17 L20 L45 L47 | L0 L19 L34 L45 L46 L47 | L0 L1 L2 L33 L34 L35 L36 L42 L46 bodies 3 in component "Platinenhalter"
hole "Bohrung1'" at (2.7, 168, 8.5) direction (0, -1, 0) diameter 1.6 depth 6 tip angle 118 bodies 3 in component "Platinenhalter"
hole "Bohrung4'" at (210.3, 168, 8.5) direction (0, -1, 0) diameter 1.6 depth 6 tip angle 118 bodies 3 in component "Platinenhalter"
hole "Bohrung5" at (210.3, -6.5, 8.5) direction (0, 1, 0) diameter 1.6 depth 6 tip angle 118 bodies 3 in component "Platinenhalter"
hole "Bohrung6" at (145.3, -6.5, 8.5) direction (0, 1, 0) diameter 1.6 depth 6 tip angle 118 bodies 3 in component "Platinenhalter"
hole "Bohrung7" at (67.7, -6.5, 8.5) direction (0, 1, 0) diameter 1.6 depth 6 tip angle 118 bodies 3 in component "Platinenhalter"
hole "Bohrung8" at (2.7, -6.5, 8.5) direction (0, 1, 0) diameter 1.6 depth 6 tip angle 118 bodies 3 in component "Platinenhalter"
hole "Bohrung9" at (67.7, 168, 8.5) direction (0, -1, 0) diameter 1.6 depth 6 tip angle 118 bodies 3 in component "Platinenhalter"
hole "Bohrung10" at (145.3, 168, 8.5) direction (0, -1, 0) diameter 1.6 depth 6 tip angle 118 bodies 3 in component "Platinenhalter"
sketch "Skizze5" plane through (0, 0, 8.6) normal (0, 0, 1) x (-1, 0, 0) in component "Platinenhalter"
  circle A0 centre (-2.7, -8.5) radius 1.3
  circle A1 centre (-2.7, -8.5) radius 2.9
  line L0 (7.3, 6.5) -> (7.3, -168)
  circle A2 centre (-2.7, -93) radius 1.3
  circle A3 centre (-2.7, -93) radius 2.9
  line L1 (5.7, 6.5) -> (-218.7, 6.5)
  circle A4 centre (-24.7, -13.5) radius 1.3
  circle A5 centre (-24.7, -13.5) radius 2.9
  circle A6 centre (-52.7, -12.5) radius 1.3
  circle A7 centre (-52.7, -12.5) radius 2.9
  circle A8 centre (-24.7, -118.5) radius 1.3
  circle A9 centre (-24.7, -118.5) radius 2.9
  circle A10 centre (-52.7, -124.2) radius 1.3
  circle A11 centre (-52.7, -124.2) radius 2.9
  circle A12 centre (-58.7, -153) radius 1.3
  circle A13 centre (-58.7, -153) radius 2.9
  line L2 (5.7, -168) -> (-218.7, -168)
  circle A14 centre (-212.3, -113) radius 1.3
  circle A15 centre (-212.3, -113) radius 2.9
  line L3 (-220.3, 6.5) -> (-220.3, -168)
  circle A16 centre (-212.3, -21.56) radius 1.3
  circle A17 centre (-212.3, -21.56) radius 2.9
  circle A18 centre (-148.8, -113) radius 1.3
  circle A19 centre (-148.8, -113) radius 2.9
  circle A20 centre (-148.8, -21.56) radius 1.3
  circle A21 centre (-148.8, -21.56) radius 2.9
  circle A22 centre (-137.8, -103) radius 1.3
  circle A23 centre (-137.8, -103) radius 2.9
  circle A24 centre (-137.8, -62.36) radius 1.3
  circle A25 centre (-137.8, -62.36) radius 2.9
  circle A26 centre (-89.54, -103) radius 1.3
  circle A27 centre (-89.54, -103) radius 2.9
  circle A28 centre (-89.54, -62.36) radius 1.3
  circle A29 centre (-89.54, -62.36) radius 2.9
  dimension "d101" = 2.6
  dimension "d102" = 5.8
  dimension "d103" = 10
  dimension "d104" = 2.6
  dimension "d105" = 5.8
  dimension "d106" = 84.5
  dimension "d107" = 15
  dimension "d108" = 2.6
  dimension "d109" = 5.8
  dimension "d110" = 5
  dimension "d111" = 22
  dimension "d112" = 2.6
  dimension "d113" = 5.8
  dimension "d114" = 28
  dimension "d115" = 1
  dimension "d116" = 2.6
  dimension "d117" = 5.8
  dimension "d118" = 105
  dimension "d119" = 2.6
  dimension "d120" = 5.8
  dimension "d121" = 5.7
  dimension "d122" = 2.6
  dimension "d123" = 5.8
  dimension "d124" = 66
  dimension "d125" = 15
  dimension "d126" = 2.6
  dimension "d127" = 5.8
  dimension "d128" = 8
  dimension "d129" = 2.6
  dimension "d130" = 5.8
  dimension "d131" = 91.44
  dimension "d132" = 2.6
  dimension "d133" = 5.8
  dimension "d134" = 63.5
  dimension "d135" = 2.6
  dimension "d136" = 5.8
  dimension "d137" = 55
  dimension "d138" = 2.6
  dimension "d139" = 5.8
  dimension "d140" = 11
  dimension "d141" = 2.6
  dimension "d142" = 5.8
  dimension "d143" = 40.64
  dimension "d144" = 2.6
  dimension "d145" = 5.8
  dimension "d146" = 48.26
  dimension "d147" = 2.6
  dimension "d148" = 5.8
  dimension "d150" = 36.84
  dimension "d151" = 10
extrude "Extrusion7" add sketch "Skizze5" along normal blind 9 bodies 3 in component "Platinenhalter"
sketch "Skizze6" plane through (0, 0, 8.6) normal (0, 0, 1) x (-1, 0, 0) in component "Platinenhalter"
  line L0 (-81.54, -19.5) -> (-8.7, -19.5)
  line L1 (-8.7, -19.5) -> (-8.7, -108)
  line L2 (-8.7, -108) -> (-81.54, -108)
  line L3 (-81.54, -108) -> (-81.54, -19.5)
  line L4 (-47.7, -127.3536) -> (-7.7, -127.3536)
  line L5 (-7.7, -127.3536) -> (-7.7, -157.4721)
  line L6 (-7.7, -157.4721) -> (-47.7, -157.4721)
  line L7 (-47.7, -157.4721) -> (-47.7, -127.3536)
  line L8 (-95.54, -3.5) -> (-131.8, -3.5)
  line L9 (-131.8, -3.5) -> (-131.8, -108)
  line L10 (-131.8, -108) -> (-95.54, -108)
  line L11 (-95.54, -108) -> (-95.54, -3.5)
  line L12 (-154.8, -3.5) -> (-206.3, -3.5)
  line L13 (-206.3, -3.5) -> (-206.3, -108)
  line L14 (-206.3, -108) -> (-154.8, -108)
  line L15 (-154.8, -108) -> (-154.8, -3.5)
  line L16 (-208.0741, -122.5232) -> (-178.5238, -122.5232)
  line L17 (-178.5238, -122.5232) -> (-178.5238, -155.199)
  line L18 (-178.5238, -155.199) -> (-208.0741, -155.199)
  line L19 (-208.0741, -155.199) -> (-208.0741, -122.5232)
  circle A0 centre (-89.54, -103) radius 2.9
  line L20 (-170.3, -118) -> (-72.7, -118)
  line L21 (-72.7, -118) -> (-72.7, -168)
  line L22 (7.3, 6.5) -> (7.3, -168)
  circle A1 centre (-2.7, -93) radius 2.9
  circle A2 centre (-24.7, -13.5) radius 2.9
  line L23 (5.7, 6.5) -> (-218.7, 6.5)
  point P0 (-212.3, -113)
  point P1 (-148.8, -113)
  point P2 (-137.8, -103)
  dimension "d160" = 6
  dimension "d161" = 6
  dimension "d162" = 6
  dimension "d164" = 6
  dimension "d165" = 10
  dimension "d166" = 10
  dimension "d167" = 10
  dimension "d168" = 25
  dimension "d169" = 15
  dimension "d170" = 6
  dimension "d171" = 8
  dimension "d172" = 6
  dimension "d173" = 10
  dimension "d174" = 10
extrude "Extrusion8" cut sketch "Skizze6" against normal blind 1.6 contours L0 L1 L2 L3 | L4 L5 L6 L7 | L8 L9 L10 L11 | L12 L13 L14 L15 | L16 L17 L18 L19 bodies 3 in component "Platinenhalter"
component "Display" placed x (1, 0, 0) y (0, 1, 0) z (0, 0, 1) at (0, 0, 0)
component "Platinenhalter" placed x (1, 0, 0) y (0, 1, 0) z (0, 0, 1) at (0, 0, 0) in component "Display"
hidden bodies 2
equation "d4 = d3"
equation "d104 = d101"
